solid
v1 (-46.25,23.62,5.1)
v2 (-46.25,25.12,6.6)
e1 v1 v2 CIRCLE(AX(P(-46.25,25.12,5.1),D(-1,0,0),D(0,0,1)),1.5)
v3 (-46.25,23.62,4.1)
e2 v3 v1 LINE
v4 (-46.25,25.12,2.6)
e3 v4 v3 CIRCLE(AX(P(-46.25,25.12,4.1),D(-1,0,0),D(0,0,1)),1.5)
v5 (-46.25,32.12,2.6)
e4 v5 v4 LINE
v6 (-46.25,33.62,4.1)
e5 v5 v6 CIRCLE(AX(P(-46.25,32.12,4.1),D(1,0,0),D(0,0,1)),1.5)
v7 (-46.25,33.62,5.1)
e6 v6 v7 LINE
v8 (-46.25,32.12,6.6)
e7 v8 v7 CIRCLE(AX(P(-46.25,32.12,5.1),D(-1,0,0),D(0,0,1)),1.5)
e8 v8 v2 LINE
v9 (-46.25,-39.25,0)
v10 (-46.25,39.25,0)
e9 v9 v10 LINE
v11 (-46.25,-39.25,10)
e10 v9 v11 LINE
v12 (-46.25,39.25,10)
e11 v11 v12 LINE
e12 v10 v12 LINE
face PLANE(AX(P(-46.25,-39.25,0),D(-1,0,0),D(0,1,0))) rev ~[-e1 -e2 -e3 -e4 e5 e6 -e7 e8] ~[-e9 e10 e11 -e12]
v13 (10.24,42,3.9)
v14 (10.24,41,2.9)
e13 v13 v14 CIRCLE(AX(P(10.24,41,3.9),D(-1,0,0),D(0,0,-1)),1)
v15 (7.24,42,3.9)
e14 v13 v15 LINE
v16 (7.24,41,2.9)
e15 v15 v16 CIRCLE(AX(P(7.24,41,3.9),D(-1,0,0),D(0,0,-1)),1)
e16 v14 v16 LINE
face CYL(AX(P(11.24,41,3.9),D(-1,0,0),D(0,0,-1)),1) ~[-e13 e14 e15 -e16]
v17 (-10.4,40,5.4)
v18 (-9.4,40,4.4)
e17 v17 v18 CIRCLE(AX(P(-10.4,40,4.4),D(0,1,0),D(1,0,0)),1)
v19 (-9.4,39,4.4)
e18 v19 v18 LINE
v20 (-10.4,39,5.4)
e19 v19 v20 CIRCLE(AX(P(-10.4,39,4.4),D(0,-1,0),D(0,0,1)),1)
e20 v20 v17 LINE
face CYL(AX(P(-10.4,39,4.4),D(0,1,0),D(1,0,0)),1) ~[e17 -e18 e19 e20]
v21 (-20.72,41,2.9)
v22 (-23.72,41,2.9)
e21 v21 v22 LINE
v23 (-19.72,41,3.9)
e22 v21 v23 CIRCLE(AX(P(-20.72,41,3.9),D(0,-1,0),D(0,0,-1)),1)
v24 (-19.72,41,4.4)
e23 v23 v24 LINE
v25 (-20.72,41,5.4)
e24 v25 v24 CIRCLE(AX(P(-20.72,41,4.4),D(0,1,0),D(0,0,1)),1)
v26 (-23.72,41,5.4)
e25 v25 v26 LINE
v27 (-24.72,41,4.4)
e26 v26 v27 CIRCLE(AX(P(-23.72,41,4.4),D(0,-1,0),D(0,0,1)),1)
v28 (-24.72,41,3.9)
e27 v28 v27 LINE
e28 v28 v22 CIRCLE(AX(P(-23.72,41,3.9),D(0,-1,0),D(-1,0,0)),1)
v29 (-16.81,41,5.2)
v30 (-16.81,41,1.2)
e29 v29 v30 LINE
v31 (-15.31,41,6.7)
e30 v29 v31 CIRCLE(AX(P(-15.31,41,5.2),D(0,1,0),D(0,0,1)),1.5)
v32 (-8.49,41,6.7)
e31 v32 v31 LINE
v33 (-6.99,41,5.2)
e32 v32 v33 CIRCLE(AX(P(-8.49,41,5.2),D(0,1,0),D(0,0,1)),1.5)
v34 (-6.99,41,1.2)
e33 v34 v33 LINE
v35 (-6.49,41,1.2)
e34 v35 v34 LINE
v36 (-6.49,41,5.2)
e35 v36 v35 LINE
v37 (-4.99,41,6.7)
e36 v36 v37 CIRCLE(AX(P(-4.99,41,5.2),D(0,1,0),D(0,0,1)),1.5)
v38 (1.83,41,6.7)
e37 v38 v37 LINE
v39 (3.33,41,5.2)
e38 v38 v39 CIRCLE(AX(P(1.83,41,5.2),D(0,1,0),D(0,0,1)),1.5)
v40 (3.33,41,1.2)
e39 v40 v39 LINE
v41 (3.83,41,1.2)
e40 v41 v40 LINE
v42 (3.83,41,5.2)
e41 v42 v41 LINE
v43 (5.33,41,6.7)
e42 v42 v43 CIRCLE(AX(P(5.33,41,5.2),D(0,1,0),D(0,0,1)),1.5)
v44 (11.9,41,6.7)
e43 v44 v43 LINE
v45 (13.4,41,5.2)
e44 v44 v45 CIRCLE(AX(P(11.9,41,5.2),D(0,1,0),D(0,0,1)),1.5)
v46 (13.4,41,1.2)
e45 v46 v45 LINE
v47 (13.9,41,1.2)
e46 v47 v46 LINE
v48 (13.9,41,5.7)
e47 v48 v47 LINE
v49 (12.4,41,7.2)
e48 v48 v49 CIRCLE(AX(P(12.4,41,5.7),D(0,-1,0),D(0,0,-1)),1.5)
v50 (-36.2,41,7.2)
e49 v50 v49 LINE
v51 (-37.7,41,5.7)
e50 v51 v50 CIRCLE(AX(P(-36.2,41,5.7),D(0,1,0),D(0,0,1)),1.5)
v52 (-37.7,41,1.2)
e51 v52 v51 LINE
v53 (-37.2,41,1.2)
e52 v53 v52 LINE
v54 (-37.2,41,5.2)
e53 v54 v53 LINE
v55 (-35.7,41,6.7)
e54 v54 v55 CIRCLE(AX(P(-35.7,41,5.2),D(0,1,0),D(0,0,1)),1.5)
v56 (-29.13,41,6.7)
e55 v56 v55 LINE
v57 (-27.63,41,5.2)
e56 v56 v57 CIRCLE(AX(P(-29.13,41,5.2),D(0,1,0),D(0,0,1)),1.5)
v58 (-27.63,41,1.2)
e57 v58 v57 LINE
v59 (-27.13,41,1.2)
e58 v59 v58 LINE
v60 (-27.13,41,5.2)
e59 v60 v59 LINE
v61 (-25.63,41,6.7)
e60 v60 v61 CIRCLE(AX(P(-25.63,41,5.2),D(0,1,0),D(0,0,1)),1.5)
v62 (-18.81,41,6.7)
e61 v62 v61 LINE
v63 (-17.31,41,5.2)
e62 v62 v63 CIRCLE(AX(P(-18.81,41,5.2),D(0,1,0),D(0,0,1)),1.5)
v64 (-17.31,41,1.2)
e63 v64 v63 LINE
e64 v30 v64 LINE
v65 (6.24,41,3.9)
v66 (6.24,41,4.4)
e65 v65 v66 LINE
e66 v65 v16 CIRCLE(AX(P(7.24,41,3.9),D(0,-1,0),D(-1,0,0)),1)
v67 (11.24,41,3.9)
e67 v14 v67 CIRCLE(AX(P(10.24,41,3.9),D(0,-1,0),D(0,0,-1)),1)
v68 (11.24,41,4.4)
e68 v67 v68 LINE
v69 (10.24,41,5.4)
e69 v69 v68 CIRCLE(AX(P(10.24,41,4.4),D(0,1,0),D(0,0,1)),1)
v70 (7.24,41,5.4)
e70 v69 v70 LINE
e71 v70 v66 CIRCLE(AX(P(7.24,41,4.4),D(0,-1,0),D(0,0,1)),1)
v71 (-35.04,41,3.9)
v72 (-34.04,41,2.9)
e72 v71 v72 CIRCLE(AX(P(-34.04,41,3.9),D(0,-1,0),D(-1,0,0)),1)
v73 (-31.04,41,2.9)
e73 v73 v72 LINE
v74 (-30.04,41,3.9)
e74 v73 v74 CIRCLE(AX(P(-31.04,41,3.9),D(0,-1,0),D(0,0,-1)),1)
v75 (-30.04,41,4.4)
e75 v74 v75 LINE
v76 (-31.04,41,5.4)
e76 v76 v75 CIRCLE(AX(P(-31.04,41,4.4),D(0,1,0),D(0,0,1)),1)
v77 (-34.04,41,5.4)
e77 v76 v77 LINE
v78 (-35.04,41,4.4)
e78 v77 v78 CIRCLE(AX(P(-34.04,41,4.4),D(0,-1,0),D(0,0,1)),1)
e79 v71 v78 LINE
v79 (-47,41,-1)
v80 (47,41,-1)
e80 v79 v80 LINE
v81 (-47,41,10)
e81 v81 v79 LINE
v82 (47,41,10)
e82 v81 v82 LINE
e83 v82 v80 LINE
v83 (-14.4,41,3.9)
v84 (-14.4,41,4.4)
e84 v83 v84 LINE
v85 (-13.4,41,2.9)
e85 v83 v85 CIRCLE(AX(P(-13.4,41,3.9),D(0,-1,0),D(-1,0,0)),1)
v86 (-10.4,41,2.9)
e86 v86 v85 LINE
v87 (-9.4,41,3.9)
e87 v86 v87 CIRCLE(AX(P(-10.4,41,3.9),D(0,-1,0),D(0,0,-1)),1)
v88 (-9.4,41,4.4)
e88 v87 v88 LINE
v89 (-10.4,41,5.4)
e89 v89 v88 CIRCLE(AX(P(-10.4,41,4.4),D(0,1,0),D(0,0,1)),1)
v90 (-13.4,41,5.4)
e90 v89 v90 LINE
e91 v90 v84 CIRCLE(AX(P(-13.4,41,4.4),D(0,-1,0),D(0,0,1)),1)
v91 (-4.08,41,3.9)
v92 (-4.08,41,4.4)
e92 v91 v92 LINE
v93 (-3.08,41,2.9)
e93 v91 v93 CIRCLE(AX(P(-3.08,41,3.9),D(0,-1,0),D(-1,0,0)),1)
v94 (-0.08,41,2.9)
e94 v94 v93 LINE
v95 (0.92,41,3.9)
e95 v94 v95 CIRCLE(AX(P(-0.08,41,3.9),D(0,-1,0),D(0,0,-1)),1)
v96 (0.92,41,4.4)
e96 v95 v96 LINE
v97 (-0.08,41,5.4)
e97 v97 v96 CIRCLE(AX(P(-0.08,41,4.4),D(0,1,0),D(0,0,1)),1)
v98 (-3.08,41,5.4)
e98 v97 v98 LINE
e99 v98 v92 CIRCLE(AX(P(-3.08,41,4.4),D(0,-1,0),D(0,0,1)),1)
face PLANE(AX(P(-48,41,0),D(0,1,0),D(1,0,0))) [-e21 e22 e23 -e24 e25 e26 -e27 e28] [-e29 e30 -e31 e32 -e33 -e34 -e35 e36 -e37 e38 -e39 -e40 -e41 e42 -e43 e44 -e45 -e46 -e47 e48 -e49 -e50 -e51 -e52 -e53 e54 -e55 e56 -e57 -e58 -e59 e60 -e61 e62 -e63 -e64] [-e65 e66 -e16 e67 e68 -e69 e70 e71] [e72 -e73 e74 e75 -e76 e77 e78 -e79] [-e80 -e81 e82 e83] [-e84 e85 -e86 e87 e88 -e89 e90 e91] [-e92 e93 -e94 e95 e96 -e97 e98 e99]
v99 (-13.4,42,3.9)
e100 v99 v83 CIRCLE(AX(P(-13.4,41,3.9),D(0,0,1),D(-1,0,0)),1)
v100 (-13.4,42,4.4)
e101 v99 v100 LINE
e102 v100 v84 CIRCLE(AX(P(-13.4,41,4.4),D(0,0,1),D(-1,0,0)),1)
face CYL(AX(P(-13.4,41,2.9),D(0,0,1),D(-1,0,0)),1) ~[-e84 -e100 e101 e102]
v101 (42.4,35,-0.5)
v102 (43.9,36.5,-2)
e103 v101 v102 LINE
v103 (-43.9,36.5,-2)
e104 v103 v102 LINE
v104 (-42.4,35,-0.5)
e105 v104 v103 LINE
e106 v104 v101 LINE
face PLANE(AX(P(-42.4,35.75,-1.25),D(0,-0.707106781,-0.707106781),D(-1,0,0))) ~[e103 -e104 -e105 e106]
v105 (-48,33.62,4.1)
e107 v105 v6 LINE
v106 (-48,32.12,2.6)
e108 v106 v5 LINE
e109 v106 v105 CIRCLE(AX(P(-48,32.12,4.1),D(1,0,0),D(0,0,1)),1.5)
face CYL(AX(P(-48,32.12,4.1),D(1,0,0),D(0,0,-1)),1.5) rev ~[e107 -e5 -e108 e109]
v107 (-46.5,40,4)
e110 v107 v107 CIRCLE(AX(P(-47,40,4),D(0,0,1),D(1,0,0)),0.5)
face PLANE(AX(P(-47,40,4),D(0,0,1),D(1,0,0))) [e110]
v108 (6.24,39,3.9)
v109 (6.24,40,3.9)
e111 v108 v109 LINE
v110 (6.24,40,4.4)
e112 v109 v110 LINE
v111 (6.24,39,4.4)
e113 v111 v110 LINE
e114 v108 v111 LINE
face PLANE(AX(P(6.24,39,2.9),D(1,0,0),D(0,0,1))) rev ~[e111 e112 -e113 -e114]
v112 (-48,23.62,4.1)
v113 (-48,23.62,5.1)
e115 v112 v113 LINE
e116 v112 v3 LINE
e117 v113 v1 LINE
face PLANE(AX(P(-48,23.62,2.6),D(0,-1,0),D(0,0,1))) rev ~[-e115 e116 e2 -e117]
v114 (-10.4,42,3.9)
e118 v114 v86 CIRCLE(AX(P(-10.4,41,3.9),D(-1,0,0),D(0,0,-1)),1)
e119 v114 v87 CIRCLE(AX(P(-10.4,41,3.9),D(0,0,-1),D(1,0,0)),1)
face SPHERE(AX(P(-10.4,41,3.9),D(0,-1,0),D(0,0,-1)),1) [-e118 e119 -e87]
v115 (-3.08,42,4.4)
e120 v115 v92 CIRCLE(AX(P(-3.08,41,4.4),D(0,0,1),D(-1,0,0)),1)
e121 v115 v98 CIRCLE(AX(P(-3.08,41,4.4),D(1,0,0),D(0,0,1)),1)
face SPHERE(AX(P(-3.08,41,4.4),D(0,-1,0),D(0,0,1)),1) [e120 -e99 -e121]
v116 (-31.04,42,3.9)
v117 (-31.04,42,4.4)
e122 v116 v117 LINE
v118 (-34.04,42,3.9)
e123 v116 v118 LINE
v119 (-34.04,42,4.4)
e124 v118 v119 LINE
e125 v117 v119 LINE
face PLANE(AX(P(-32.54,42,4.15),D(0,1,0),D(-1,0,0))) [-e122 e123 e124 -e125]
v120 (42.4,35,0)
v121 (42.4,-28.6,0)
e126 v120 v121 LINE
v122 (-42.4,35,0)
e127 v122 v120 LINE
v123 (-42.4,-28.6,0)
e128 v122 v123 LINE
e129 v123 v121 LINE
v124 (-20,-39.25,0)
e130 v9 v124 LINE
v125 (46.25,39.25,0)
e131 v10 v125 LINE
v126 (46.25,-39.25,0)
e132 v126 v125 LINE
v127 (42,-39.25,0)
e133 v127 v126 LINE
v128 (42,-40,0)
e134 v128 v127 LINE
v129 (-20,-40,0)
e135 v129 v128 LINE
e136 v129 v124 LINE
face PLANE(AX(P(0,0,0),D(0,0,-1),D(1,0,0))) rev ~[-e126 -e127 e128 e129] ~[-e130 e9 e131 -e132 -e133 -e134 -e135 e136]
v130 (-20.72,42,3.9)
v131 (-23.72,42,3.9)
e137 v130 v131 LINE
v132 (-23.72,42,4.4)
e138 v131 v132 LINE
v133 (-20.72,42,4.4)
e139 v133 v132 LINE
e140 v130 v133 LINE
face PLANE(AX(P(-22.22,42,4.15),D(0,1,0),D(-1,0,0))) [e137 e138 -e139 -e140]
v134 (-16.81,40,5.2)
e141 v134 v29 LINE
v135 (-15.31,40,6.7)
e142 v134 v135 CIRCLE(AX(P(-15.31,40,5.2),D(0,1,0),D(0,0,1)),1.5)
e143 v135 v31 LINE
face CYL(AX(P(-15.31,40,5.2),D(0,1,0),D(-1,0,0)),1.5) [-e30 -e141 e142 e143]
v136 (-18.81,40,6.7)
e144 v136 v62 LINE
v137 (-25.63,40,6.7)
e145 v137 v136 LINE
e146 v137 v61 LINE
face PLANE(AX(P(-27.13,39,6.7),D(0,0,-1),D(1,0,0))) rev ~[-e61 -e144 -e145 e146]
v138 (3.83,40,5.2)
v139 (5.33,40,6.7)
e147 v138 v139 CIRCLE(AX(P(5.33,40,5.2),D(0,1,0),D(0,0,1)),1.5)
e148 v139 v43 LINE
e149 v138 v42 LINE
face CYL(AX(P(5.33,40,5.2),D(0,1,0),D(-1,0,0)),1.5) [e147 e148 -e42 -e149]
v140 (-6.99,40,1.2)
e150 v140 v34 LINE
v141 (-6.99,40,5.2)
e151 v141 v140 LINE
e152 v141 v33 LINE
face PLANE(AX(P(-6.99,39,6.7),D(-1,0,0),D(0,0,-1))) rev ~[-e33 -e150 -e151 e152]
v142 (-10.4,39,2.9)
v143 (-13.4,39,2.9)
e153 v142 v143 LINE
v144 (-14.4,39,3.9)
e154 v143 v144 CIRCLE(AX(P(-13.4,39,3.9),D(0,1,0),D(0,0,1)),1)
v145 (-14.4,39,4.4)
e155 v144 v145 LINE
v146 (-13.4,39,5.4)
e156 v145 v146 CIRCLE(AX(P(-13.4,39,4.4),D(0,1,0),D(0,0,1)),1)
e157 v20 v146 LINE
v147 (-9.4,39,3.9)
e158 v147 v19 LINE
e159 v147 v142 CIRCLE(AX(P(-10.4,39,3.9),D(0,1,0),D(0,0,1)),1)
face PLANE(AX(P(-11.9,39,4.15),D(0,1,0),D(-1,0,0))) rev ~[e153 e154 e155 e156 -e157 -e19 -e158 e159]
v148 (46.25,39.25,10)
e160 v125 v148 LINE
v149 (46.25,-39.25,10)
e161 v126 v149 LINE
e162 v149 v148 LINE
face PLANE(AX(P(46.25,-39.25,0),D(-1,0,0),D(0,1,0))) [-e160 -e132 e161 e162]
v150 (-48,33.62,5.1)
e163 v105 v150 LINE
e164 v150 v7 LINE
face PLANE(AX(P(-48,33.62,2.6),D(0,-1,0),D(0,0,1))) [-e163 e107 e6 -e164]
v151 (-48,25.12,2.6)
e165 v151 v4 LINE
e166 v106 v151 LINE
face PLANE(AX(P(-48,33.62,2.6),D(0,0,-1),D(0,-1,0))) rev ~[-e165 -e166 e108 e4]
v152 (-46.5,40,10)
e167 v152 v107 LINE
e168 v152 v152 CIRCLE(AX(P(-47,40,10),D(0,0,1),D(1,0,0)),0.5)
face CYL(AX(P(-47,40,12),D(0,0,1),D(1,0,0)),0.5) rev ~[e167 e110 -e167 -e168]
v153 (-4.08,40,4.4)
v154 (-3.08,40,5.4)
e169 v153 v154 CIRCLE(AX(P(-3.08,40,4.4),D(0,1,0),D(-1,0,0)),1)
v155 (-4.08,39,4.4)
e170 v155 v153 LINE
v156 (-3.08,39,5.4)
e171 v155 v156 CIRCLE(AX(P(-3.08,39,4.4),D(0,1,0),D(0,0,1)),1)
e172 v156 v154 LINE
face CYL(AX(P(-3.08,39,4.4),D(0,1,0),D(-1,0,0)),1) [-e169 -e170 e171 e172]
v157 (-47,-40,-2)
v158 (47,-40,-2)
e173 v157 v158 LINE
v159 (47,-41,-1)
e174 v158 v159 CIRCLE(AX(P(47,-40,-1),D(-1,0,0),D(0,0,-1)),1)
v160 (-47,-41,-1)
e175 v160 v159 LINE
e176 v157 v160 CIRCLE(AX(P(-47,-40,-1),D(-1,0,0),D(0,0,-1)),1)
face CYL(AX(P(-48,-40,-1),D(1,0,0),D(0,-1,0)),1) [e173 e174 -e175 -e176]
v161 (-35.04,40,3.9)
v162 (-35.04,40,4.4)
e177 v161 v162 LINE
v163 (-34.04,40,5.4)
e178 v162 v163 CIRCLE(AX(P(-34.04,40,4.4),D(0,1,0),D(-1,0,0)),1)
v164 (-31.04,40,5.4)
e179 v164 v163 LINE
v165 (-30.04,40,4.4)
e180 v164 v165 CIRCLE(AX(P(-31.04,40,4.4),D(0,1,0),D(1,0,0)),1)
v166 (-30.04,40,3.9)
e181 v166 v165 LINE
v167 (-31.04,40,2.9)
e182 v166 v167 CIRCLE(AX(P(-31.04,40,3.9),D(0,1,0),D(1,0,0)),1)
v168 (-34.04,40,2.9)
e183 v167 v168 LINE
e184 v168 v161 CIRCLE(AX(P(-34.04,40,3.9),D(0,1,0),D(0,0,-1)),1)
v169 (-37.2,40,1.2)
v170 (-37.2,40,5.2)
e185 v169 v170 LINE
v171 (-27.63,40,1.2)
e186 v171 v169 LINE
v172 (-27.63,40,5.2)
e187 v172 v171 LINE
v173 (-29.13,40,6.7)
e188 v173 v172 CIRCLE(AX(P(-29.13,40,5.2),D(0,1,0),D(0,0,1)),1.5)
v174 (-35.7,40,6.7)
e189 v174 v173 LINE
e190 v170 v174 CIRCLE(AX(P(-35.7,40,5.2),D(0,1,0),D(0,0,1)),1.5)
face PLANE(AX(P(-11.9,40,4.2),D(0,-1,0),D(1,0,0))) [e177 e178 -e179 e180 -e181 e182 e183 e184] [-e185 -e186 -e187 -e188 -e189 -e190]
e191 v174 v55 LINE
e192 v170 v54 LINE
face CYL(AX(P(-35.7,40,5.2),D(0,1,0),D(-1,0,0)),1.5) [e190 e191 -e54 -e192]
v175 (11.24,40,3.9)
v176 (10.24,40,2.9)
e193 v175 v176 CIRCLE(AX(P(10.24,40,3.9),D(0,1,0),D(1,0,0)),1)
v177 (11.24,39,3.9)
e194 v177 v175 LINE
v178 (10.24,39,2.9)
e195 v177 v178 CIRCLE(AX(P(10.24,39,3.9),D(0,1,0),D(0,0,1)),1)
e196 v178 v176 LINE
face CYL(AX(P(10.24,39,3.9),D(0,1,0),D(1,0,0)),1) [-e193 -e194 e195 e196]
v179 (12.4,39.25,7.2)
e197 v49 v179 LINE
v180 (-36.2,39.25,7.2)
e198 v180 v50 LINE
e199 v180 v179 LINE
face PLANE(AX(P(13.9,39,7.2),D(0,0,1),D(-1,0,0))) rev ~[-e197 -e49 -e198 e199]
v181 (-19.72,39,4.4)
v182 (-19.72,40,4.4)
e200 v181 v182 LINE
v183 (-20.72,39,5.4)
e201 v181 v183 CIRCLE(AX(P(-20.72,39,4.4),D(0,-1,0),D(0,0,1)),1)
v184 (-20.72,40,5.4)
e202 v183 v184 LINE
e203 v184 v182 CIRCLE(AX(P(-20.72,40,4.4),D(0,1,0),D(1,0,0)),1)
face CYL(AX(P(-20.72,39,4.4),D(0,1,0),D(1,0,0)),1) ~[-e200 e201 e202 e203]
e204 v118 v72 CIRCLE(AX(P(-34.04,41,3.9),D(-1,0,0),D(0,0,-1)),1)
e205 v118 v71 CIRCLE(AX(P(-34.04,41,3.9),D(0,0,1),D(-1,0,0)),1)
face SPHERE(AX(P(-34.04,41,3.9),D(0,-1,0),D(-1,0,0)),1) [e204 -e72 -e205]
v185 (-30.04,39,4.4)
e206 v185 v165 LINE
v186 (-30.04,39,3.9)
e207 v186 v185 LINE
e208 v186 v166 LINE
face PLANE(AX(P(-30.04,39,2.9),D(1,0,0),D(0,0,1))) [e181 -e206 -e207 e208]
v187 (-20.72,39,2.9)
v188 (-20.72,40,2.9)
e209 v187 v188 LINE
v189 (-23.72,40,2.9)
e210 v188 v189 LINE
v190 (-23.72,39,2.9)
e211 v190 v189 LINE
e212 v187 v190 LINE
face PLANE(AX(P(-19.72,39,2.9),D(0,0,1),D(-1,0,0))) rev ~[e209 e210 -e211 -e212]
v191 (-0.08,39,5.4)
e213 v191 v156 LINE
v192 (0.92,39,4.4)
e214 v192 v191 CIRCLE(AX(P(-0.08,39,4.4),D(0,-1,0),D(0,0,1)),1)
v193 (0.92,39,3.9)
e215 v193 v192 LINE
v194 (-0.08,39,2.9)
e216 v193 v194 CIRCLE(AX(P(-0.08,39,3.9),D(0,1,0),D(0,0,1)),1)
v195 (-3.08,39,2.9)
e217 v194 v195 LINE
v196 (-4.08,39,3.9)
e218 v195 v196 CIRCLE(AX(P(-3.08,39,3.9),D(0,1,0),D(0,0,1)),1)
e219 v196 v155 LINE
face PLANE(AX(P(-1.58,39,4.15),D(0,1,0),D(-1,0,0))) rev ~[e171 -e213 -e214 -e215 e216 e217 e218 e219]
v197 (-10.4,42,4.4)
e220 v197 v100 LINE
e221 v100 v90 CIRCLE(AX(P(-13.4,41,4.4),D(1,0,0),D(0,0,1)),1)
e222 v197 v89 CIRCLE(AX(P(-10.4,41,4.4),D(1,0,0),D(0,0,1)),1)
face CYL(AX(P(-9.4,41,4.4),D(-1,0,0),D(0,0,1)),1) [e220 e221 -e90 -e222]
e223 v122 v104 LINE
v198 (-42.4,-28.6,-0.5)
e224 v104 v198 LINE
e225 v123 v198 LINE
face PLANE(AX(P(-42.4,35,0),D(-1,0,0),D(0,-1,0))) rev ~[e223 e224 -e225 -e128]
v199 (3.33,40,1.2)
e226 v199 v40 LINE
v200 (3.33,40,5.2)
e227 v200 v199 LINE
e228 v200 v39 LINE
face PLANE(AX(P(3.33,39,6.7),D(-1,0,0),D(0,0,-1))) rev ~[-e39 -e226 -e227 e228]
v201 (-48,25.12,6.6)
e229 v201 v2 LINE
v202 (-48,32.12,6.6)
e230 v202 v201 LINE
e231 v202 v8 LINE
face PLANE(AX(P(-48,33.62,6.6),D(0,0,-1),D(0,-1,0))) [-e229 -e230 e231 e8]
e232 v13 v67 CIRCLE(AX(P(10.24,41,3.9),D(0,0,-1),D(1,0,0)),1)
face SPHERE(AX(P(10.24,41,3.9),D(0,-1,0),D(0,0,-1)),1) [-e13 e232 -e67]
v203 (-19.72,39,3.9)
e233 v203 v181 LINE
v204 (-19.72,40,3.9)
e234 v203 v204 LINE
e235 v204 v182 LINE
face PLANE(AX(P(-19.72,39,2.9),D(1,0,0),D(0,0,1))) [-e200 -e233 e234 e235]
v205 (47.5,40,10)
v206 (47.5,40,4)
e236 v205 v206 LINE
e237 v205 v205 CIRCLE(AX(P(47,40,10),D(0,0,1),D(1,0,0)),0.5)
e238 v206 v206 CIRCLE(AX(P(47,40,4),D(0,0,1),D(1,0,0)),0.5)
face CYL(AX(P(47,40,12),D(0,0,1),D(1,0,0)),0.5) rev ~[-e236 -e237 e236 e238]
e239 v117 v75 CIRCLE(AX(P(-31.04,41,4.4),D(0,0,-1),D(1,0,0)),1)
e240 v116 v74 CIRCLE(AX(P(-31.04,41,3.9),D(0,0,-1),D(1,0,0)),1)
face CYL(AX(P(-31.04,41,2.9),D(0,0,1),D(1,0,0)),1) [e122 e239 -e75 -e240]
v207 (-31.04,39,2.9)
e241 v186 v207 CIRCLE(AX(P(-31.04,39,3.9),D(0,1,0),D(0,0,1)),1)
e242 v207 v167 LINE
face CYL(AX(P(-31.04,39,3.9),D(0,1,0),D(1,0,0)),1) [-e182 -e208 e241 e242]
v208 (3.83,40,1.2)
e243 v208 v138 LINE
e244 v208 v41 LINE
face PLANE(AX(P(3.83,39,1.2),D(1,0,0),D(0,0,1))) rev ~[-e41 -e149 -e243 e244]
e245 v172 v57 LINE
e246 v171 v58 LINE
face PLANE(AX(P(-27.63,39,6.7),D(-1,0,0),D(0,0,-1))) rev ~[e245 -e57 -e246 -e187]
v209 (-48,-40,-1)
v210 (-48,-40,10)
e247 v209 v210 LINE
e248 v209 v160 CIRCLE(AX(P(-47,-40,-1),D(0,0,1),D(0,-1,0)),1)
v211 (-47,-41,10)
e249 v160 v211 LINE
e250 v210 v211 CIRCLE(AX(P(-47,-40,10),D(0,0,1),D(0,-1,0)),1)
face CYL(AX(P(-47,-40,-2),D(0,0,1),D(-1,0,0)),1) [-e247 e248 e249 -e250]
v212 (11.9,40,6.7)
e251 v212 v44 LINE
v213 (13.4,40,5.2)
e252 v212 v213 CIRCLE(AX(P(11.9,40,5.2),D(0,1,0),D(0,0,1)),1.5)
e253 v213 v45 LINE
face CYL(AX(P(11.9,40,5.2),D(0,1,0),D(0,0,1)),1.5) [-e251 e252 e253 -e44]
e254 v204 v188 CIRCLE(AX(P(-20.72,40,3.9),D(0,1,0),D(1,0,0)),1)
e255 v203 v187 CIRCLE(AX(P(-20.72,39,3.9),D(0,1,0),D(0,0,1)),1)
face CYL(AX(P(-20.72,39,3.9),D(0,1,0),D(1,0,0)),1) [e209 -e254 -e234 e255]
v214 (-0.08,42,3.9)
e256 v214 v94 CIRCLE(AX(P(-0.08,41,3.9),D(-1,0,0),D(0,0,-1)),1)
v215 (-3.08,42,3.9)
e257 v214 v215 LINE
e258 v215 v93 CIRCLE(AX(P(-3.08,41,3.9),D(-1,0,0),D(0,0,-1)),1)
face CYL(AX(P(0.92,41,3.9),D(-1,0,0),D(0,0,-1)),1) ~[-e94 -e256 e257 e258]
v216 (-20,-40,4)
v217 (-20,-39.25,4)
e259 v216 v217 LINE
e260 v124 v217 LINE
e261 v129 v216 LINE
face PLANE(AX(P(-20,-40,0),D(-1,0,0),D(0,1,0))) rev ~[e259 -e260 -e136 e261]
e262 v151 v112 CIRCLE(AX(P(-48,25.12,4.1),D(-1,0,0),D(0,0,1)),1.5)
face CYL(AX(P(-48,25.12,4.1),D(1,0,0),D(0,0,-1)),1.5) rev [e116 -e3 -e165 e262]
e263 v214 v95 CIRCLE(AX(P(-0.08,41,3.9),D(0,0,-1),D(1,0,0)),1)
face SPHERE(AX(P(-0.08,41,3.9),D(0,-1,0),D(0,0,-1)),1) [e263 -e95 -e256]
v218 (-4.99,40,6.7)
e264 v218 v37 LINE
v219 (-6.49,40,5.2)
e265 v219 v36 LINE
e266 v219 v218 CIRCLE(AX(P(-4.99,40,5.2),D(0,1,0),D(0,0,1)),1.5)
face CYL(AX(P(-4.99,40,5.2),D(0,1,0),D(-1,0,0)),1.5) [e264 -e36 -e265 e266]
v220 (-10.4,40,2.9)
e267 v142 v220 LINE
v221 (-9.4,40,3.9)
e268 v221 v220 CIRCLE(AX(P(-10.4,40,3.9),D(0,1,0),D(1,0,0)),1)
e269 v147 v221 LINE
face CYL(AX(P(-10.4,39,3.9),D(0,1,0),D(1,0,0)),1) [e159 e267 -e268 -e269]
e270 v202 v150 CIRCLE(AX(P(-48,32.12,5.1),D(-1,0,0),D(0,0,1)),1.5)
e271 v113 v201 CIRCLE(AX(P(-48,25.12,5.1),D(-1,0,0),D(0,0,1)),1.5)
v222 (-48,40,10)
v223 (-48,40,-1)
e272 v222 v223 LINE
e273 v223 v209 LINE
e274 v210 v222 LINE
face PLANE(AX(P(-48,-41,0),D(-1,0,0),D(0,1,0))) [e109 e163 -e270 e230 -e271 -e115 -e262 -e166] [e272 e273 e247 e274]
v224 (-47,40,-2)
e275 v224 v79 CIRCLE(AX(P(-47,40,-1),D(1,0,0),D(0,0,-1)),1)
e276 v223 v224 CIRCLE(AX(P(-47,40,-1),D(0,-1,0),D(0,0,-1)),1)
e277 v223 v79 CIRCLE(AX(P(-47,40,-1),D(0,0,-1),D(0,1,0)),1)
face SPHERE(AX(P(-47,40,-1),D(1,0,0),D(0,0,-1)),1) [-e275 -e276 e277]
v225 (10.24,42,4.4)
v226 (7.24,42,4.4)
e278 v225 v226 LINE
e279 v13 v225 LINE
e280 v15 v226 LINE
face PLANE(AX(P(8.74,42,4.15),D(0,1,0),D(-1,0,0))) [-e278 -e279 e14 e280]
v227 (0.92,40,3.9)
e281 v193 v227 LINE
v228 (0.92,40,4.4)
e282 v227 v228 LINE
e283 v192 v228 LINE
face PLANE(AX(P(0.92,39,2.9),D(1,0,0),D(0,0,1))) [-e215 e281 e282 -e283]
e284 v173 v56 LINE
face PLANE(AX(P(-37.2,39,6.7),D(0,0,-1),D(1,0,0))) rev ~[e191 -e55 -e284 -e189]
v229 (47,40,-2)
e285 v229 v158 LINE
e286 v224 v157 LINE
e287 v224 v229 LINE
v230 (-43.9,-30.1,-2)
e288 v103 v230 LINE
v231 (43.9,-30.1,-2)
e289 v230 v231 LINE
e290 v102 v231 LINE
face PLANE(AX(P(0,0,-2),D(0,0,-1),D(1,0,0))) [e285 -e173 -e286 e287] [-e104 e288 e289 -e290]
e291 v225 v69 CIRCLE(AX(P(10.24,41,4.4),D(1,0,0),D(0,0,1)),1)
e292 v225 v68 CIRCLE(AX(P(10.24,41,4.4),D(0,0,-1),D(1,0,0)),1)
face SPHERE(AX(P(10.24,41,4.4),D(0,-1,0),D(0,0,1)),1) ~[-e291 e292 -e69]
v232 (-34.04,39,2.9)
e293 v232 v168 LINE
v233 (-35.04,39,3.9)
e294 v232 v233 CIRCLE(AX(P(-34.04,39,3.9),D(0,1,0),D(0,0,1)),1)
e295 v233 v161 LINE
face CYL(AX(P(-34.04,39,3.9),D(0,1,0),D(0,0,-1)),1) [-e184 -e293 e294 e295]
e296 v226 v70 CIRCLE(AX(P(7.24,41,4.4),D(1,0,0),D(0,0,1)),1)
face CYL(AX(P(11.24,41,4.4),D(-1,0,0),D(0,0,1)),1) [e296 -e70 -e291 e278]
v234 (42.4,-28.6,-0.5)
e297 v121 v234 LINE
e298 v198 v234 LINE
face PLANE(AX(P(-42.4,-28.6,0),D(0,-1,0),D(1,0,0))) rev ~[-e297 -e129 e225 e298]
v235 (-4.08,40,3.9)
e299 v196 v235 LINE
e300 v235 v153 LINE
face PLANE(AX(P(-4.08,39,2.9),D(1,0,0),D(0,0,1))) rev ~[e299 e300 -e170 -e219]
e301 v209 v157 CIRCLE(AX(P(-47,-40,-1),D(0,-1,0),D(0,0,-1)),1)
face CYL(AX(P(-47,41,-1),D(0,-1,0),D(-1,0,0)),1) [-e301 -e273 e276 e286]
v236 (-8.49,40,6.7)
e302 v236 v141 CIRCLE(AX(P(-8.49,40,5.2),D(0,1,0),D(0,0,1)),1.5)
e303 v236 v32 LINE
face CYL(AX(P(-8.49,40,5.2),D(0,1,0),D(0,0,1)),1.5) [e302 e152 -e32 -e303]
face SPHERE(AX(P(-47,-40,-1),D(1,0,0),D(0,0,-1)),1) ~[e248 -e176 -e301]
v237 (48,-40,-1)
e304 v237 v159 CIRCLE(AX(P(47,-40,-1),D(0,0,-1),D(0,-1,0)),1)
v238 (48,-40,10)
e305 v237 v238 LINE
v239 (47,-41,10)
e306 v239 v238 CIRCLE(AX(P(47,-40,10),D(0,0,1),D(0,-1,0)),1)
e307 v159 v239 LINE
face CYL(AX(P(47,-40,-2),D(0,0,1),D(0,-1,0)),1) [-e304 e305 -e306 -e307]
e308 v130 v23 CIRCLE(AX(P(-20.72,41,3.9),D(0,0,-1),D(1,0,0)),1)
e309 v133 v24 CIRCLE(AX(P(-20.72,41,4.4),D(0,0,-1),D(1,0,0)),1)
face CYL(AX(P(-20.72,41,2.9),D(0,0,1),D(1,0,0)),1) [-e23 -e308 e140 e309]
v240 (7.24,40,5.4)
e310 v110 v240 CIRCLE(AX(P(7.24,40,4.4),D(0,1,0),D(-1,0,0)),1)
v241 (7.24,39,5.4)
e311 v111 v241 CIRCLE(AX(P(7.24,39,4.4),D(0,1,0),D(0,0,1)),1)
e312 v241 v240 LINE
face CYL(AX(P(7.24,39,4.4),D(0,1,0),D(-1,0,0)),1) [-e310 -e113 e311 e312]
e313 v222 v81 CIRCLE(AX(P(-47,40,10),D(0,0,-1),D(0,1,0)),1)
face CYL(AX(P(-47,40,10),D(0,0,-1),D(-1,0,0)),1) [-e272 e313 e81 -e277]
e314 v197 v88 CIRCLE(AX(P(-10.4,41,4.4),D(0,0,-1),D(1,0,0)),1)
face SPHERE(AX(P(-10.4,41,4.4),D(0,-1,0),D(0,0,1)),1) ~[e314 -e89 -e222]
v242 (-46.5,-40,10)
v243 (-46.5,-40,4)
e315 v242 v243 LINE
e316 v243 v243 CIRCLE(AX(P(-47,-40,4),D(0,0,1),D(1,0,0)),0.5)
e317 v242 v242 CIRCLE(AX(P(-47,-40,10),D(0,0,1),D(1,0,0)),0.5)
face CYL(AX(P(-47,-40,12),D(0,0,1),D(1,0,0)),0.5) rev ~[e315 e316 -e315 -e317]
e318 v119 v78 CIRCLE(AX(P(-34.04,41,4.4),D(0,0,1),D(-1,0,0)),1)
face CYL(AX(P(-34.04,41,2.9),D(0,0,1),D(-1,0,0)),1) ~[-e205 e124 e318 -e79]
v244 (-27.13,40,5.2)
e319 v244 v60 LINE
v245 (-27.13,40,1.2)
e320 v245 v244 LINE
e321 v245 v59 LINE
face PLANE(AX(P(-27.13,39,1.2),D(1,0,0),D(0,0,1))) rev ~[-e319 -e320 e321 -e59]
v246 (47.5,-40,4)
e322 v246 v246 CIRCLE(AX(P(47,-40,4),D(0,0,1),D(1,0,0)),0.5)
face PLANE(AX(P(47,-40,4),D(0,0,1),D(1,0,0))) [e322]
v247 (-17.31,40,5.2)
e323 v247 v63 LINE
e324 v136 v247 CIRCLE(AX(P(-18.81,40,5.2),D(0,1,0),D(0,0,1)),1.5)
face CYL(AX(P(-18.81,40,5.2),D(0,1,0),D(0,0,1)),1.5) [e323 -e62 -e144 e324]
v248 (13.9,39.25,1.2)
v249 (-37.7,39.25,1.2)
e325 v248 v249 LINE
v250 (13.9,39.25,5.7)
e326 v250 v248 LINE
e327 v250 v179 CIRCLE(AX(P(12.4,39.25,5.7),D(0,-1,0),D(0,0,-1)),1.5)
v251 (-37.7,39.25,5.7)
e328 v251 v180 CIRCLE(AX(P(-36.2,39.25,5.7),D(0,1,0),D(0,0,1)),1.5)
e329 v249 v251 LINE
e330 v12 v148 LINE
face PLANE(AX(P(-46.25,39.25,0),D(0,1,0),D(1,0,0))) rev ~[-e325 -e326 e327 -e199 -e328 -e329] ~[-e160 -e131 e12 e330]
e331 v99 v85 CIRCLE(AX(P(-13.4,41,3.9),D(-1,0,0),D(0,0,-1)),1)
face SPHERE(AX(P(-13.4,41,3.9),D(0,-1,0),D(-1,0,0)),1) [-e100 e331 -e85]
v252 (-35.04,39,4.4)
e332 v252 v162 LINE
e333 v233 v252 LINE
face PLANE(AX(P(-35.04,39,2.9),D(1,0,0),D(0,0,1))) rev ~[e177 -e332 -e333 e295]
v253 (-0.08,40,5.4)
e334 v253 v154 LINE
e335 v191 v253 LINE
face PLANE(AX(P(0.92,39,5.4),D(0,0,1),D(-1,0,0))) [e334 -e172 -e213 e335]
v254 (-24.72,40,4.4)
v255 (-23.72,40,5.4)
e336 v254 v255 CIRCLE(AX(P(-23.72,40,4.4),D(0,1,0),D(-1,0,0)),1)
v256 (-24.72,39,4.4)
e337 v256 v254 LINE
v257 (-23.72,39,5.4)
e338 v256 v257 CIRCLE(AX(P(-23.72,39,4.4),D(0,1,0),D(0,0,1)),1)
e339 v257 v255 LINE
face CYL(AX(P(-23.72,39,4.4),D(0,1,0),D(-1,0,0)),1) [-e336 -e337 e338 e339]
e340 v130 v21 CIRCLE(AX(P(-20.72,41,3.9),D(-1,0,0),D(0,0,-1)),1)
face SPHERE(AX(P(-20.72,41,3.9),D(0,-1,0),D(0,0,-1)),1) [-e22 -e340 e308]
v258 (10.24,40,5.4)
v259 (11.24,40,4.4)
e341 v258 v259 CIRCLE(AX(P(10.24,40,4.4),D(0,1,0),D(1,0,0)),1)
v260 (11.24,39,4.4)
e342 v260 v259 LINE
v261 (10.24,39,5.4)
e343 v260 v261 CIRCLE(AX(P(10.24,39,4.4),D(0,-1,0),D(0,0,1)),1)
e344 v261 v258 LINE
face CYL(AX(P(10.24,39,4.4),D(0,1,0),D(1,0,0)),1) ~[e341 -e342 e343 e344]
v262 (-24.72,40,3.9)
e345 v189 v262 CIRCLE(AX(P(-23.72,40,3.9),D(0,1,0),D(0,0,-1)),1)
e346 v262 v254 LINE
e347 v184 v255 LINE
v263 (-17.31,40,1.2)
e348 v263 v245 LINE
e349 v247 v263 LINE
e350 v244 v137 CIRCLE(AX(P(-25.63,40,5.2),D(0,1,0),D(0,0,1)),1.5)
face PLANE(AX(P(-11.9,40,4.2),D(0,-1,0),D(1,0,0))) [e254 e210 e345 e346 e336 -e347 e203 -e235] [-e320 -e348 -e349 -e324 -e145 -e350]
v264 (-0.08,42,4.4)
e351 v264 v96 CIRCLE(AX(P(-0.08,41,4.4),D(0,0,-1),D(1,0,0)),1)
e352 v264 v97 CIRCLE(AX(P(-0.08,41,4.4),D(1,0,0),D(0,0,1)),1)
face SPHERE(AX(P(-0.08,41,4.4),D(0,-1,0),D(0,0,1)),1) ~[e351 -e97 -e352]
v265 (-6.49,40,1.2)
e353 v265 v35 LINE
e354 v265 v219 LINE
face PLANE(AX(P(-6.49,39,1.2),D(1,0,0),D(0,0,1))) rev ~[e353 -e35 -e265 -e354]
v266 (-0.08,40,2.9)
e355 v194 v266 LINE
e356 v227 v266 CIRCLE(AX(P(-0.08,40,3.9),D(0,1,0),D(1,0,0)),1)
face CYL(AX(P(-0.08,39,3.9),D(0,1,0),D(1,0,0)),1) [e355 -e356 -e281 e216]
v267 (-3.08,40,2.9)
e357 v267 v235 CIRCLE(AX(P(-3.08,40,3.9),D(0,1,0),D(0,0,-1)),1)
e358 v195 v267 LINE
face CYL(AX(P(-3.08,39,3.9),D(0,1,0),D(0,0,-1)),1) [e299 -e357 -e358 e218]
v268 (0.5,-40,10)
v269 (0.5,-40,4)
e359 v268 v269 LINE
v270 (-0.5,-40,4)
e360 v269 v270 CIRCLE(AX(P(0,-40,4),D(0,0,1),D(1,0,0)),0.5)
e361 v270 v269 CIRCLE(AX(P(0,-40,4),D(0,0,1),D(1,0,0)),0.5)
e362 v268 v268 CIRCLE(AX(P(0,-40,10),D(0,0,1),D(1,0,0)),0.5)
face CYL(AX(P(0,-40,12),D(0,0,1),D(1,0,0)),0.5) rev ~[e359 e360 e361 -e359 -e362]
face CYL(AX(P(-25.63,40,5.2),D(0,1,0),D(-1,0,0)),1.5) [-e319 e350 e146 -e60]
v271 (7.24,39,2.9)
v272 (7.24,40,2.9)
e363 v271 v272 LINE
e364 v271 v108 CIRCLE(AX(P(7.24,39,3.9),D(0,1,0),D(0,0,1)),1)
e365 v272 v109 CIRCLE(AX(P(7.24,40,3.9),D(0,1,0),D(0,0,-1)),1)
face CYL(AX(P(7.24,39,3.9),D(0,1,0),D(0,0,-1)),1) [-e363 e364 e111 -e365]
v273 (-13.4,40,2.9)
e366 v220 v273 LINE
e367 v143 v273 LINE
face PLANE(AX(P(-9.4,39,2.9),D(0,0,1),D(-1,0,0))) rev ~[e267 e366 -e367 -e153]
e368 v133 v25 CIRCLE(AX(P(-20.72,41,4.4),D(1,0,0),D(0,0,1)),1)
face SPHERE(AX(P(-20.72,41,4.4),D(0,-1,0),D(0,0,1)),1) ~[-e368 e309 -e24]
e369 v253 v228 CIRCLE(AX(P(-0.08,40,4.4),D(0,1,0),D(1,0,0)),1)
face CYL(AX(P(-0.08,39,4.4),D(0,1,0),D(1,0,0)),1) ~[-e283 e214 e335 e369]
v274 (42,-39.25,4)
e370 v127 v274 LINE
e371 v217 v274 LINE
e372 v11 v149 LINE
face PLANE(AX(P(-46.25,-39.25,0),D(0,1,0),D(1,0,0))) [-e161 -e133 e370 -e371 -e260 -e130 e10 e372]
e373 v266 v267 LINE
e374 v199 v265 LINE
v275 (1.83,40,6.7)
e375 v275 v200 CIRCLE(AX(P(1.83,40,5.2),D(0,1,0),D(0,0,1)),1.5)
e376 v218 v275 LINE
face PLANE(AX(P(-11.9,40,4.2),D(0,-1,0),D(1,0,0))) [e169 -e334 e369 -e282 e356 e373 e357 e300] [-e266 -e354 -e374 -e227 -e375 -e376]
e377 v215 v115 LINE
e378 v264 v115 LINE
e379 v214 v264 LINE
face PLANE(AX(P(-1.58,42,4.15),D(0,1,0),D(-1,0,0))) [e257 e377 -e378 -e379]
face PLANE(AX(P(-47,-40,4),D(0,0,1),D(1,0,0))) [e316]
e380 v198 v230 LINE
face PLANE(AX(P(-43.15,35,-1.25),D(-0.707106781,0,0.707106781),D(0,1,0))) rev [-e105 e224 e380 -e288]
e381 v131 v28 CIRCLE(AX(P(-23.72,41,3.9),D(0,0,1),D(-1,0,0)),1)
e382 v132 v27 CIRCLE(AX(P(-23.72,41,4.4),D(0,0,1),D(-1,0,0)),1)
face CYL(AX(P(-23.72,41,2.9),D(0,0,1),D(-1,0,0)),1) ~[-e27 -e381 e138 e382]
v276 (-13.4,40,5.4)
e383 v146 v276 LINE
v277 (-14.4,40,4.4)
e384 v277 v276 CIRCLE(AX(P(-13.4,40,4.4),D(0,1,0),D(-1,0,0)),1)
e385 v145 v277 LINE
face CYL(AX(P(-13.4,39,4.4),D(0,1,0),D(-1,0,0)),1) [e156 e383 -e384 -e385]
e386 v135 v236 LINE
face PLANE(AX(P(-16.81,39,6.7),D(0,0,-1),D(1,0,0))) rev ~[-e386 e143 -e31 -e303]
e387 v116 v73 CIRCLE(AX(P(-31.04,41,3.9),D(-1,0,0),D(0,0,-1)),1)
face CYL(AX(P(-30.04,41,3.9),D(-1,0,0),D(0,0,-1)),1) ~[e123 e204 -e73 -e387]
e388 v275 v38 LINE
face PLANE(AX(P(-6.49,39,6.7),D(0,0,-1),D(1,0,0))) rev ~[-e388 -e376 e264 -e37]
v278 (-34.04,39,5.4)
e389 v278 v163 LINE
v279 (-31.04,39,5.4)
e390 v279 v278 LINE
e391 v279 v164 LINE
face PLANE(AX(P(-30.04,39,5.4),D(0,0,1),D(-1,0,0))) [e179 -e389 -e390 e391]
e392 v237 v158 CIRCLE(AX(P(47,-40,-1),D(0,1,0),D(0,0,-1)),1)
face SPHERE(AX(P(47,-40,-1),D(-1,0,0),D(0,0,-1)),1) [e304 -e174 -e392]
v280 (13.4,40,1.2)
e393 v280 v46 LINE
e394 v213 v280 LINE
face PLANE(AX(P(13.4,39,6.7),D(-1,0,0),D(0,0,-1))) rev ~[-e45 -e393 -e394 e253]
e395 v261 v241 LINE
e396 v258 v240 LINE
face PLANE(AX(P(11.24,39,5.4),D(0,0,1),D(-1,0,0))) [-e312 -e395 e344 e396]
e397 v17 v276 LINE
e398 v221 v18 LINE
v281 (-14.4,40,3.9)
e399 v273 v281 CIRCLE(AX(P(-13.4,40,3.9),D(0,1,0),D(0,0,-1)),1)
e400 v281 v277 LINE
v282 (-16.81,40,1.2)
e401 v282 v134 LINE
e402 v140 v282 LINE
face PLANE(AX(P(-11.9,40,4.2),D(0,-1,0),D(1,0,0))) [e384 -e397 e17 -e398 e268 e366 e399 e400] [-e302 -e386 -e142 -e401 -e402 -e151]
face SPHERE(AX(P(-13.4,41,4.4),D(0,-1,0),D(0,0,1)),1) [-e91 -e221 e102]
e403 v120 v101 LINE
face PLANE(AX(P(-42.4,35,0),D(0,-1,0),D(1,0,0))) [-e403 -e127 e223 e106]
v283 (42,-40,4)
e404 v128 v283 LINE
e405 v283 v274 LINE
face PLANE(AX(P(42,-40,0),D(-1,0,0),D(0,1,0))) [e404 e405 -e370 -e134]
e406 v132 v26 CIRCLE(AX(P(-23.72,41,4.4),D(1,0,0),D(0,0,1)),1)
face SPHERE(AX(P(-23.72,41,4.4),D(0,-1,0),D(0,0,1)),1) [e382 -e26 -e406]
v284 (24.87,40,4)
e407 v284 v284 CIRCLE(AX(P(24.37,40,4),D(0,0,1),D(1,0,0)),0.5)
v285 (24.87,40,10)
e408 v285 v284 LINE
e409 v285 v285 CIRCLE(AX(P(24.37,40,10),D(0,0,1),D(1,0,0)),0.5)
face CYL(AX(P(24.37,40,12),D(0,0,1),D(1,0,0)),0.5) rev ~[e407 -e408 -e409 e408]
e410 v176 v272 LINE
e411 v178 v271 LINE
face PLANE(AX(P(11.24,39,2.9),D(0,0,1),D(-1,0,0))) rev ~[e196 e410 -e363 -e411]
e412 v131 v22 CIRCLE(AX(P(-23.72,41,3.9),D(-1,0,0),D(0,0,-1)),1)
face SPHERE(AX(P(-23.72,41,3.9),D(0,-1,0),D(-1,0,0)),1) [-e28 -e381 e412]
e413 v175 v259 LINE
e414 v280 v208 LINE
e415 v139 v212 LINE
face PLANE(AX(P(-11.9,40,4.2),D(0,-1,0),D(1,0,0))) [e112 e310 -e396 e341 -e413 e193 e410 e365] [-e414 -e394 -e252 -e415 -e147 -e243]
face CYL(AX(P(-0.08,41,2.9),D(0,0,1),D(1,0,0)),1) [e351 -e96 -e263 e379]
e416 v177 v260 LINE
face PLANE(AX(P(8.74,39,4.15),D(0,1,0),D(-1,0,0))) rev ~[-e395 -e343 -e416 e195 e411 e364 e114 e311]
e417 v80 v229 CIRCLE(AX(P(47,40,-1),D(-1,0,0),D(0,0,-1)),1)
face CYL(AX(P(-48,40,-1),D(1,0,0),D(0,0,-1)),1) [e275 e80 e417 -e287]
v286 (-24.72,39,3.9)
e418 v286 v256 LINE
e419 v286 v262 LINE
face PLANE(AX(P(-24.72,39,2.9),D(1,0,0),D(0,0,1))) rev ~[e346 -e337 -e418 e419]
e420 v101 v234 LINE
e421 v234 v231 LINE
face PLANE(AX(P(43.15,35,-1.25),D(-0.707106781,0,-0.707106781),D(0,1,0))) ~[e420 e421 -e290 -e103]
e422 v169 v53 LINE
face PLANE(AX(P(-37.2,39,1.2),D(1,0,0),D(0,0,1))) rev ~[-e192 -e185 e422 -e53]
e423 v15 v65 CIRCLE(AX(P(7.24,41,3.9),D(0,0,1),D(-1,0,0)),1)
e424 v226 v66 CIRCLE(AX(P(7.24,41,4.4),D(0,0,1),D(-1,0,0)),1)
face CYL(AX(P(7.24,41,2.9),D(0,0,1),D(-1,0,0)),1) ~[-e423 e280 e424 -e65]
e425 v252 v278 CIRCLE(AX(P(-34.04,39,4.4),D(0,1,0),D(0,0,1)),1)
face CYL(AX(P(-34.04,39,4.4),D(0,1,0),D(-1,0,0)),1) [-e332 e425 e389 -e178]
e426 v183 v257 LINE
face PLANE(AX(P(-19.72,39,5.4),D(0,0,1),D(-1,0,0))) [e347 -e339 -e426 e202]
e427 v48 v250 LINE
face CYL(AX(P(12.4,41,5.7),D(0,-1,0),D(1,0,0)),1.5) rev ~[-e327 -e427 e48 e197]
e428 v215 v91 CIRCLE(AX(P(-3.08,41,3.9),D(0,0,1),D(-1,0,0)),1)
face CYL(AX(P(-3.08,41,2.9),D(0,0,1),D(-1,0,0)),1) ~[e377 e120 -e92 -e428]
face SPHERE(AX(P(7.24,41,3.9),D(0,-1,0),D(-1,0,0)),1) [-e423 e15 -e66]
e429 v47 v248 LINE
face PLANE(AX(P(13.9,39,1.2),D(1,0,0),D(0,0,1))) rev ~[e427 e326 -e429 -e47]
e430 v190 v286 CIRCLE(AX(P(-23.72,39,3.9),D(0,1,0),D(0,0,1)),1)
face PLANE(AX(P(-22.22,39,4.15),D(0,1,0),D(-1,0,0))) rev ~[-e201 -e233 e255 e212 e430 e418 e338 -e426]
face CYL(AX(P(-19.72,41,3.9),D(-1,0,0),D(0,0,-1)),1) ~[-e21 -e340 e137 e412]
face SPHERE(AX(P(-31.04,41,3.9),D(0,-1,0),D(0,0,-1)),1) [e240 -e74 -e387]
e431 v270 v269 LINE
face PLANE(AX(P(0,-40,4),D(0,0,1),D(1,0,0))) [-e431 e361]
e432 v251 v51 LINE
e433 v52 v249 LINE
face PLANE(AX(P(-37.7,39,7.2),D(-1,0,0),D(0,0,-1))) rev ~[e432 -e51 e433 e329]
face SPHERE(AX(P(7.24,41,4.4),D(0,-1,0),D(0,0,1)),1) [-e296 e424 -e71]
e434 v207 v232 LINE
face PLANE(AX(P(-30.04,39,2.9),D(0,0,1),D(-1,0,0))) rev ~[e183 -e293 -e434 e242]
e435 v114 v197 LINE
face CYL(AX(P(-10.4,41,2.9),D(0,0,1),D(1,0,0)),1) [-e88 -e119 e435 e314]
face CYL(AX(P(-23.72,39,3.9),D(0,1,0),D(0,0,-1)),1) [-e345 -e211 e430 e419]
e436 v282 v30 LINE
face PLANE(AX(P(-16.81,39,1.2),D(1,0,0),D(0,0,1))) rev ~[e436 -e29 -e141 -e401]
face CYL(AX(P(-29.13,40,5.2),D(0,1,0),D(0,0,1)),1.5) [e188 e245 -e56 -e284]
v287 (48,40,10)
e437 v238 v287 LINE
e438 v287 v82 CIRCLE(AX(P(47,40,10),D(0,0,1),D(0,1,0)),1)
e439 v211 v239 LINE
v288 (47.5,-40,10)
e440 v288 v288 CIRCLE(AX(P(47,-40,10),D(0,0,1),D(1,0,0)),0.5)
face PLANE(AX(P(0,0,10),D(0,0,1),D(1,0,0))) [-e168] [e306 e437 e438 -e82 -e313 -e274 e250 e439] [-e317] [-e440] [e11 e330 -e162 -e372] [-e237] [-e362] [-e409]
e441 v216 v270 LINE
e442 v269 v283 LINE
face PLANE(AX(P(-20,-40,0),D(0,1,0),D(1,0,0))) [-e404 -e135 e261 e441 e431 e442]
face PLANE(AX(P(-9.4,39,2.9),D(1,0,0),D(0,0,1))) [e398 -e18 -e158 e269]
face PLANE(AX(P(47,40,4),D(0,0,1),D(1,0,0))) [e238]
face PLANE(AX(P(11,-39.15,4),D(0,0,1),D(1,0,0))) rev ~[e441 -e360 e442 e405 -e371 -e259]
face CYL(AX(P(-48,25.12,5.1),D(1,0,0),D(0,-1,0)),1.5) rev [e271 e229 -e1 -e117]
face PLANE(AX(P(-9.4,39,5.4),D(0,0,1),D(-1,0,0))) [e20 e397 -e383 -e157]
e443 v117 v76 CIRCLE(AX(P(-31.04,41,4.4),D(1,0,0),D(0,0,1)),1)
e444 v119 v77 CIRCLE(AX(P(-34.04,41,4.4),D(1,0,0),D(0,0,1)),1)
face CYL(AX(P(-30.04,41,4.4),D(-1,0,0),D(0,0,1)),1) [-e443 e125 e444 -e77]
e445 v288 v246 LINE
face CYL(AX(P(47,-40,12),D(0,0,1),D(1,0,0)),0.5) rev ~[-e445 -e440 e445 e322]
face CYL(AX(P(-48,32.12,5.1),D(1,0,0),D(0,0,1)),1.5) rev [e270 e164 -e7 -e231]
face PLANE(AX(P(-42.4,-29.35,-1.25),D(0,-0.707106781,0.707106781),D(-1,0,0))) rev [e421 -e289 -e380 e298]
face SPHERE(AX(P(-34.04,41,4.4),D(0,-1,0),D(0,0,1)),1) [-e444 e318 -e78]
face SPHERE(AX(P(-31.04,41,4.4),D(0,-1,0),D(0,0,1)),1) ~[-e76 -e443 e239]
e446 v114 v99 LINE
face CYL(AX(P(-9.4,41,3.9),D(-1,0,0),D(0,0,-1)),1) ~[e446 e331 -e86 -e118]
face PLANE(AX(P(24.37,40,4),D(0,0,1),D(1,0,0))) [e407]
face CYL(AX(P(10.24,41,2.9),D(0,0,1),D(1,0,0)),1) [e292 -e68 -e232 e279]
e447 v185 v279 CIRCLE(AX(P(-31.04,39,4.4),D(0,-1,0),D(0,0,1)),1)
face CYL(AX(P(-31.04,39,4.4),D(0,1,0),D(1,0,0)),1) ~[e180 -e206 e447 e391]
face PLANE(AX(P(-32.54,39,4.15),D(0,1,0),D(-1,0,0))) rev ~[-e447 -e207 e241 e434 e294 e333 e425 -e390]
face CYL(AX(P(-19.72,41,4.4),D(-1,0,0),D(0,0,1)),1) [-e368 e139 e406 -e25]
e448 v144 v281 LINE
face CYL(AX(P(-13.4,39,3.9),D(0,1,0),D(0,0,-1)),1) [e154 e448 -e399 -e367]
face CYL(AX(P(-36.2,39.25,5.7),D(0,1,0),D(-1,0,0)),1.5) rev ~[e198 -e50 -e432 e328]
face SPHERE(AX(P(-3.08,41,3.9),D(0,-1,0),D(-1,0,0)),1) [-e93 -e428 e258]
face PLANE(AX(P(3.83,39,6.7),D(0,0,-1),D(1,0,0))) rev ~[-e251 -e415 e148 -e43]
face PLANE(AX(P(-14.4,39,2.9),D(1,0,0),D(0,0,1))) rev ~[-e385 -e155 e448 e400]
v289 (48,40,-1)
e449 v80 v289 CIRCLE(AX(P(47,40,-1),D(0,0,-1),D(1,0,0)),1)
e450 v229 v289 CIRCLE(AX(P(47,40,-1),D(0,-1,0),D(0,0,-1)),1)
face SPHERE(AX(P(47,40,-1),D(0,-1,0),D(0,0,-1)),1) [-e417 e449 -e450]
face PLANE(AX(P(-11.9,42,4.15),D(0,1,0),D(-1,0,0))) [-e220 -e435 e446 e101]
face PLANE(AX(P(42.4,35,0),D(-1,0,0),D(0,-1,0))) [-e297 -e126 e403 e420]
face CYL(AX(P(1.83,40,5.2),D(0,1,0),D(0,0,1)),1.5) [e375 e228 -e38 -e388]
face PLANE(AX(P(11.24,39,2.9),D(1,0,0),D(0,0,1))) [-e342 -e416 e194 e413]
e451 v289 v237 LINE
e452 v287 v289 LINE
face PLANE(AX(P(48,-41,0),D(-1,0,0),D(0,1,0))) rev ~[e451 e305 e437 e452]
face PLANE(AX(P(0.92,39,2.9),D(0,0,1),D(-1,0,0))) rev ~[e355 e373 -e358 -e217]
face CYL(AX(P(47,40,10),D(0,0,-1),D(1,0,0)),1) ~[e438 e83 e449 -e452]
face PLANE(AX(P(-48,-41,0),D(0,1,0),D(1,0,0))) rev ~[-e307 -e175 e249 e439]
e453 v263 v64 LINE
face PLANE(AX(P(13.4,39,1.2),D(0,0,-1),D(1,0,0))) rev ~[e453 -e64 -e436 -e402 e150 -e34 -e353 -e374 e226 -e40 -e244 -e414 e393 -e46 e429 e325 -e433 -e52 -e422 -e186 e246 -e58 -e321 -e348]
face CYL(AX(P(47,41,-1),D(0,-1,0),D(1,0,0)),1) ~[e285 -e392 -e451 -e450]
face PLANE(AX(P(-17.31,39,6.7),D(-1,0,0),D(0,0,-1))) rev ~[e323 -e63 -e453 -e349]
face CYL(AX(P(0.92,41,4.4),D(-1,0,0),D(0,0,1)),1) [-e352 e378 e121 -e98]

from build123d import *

# Parameters (mm, degrees)
SKETCH009_R      = 0.5
EXTRUDE011_DEPTH = 8
SKETCH010_R      = 0.95
EXTRUDE010_DEPTH = 0.8
SKETCH006_W      = 5
SKETCH006_H      = 2.5
EXTRUDE007_DEPTH = 3
FILLET003_R      = 1
EXTRUDE005_DEPTH = 4
EXTRUDE004_DEPTH = 1
SKETCH003_W      = 62
SKETCH003_H      = 1.7
EXTRUDE003_DEPTH = 4
SKETCH002_W      = 10
SKETCH002_H      = 4
EXTRUDE002_DEPTH = 10
SKETCH_W         = 96
SKETCH_H         = 82
SKETCH_W_2       = 92.5
SKETCH_H_2       = 78.5
EXTRUDE001_DEPTH = 10
FILLET_R         = 1.5
SKETCH001_W      = 96
SKETCH001_H      = 82
SKETCH001_W_2    = 84.8
SKETCH001_H_2    = 63.6
EXTRUDE_DEPTH    = 2
CHAMFER_SIZE     = 1.5
FILLET001_R      = 1
FILLET002_R      = 1.5


with BuildPart() as extrude011:
    # Sketch009 (on Face5 of Fusion002) → Extrude011 (new body)
    with BuildSketch(Plane.XY.offset(12)):
        with Locations((24.37, 40)):
            Circle(SKETCH009_R)
        with Locations((0, -40)):
            Circle(SKETCH009_R)
        with Locations((47, -40)):
            Circle(SKETCH009_R)
        with Locations((-47, -40)):
            Circle(SKETCH009_R)
        with Locations((-47, 40)):
            Circle(SKETCH009_R)
        with Locations((47, 40)):
            Circle(SKETCH009_R)
    extrude(amount=-EXTRUDE011_DEPTH)


with BuildPart() as fusion003:
    # Sketch010 (on Face5 of Fusion002) → Extrude010 (new body)
    with BuildSketch(Plane.XY.offset(12)):
        with Locations((24.37, 40)):
            Circle(SKETCH010_R)
        with Locations((0, -40)):
            Circle(SKETCH010_R)
        with Locations((47, -40)):
            Circle(SKETCH010_R)
        with Locations((-47, -40)):
            Circle(SKETCH010_R)
        with Locations((-47, 40)):
            Circle(SKETCH010_R)
        with Locations((47, 40)):
            Circle(SKETCH010_R)
    extrude(amount=-EXTRUDE010_DEPTH)

    # Fusion003: union Extrude011
    add(extrude011.part)


with BuildPart() as fillet003:
    # Sketch006 (on Face2 of Part__Feature059) → Extrude007 (new body)
    with BuildSketch(Plane(origin=(0, 39, 0), x_dir=(-1, 0, 0), z_dir=(0, 1, 0))):
        with Locations((-8.74, 4.15)):
            Rectangle(SKETCH006_W, SKETCH006_H)
        with Locations((11.9, 4.15)):
            Rectangle(SKETCH006_W, SKETCH006_H)
        with Locations((22.22, 4.15)):
            Rectangle(SKETCH006_W, SKETCH006_H)
        with Locations((32.54, 4.15)):
            Rectangle(SKETCH006_W, SKETCH006_H)
        with Locations((1.58, 4.15)):
            Rectangle(SKETCH006_W, SKETCH006_H)
    extrude(amount=EXTRUDE007_DEPTH)

    # Fillet003
    fillet003_edges = [fillet003.edges().sort_by_distance(p)[0] for p in [
        (-30.04, 40.5, 5.4),
        (-35.04, 40.5, 5.4),
        (-32.54, 42, 5.4),
        (-35.04, 40.5, 2.9),
        (-35.04, 42, 4.15),
        (-30.04, 40.5, 2.9),
        (-32.54, 42, 2.9),
        (-30.04, 42, 4.15),
        (-19.72, 40.5, 5.4),
        (-24.72, 40.5, 5.4),
        (-22.22, 42, 5.4),
        (-24.72, 40.5, 2.9),
        (-24.72, 42, 4.15),
        (-19.72, 40.5, 2.9),
        (-22.22, 42, 2.9),
        (-19.72, 42, 4.15),
        (-9.4, 40.5, 5.4),
        (-14.4, 40.5, 5.4),
        (-11.9, 42, 5.4),
        (-14.4, 40.5, 2.9),
        (-14.4, 42, 4.15),
        (-9.4, 40.5, 2.9),
        (-11.9, 42, 2.9),
        (-9.4, 42, 4.15),
        (11.24, 40.5, 5.4),
        (6.24, 40.5, 5.4),
        (8.74, 42, 5.4),
        (6.24, 40.5, 2.9),
        (6.24, 42, 4.15),
        (11.24, 40.5, 2.9),
        (8.74, 42, 2.9),
        (11.24, 42, 4.15),
        (0.92, 40.5, 5.4),
        (-4.08, 40.5, 5.4),
        (-1.58, 42, 5.4),
        (-4.08, 40.5, 2.9),
        (-4.08, 42, 4.15),
        (0.92, 40.5, 2.9),
        (-1.58, 42, 2.9),
        (0.92, 42, 4.15),
    ]]
    fillet(fillet003_edges, radius=FILLET003_R)


with BuildPart() as extrude005:
    # Sketch005 (on Face2 of Part__Feature059) → Extrude005 (new body)
    with BuildSketch(Plane(origin=(0, 39, 0), x_dir=(-1, 0, 0), z_dir=(0, 1, 0))):
        Polygon((-13.9, 7.2), (37.7, 7.2), (37.7, 1.2), (37.2, 1.2), (37.2, 6.7), (27.63, 6.7), (27.63, 1.2), (27.13, 1.2), (27.13, 6.7), (17.31, 6.7), (17.31, 1.2), (16.81, 1.2), (16.81, 6.7), (6.99, 6.7), (6.99, 1.2), (6.49, 1.2), (6.49, 6.7), (-3.33, 6.7), (-3.33, 1.2), (-3.83, 1.2), (-3.83, 6.7), (-13.4, 6.7), (-13.4, 1.2), (-13.9, 1.2), align=None)
    extrude(amount=EXTRUDE005_DEPTH)


with BuildPart() as extrude004:
    # Sketch004 (on Face2 of Part__Feature059) → Extrude004 (new body)
    with BuildSketch(Plane(origin=(0, 39, 0), x_dir=(-1, 0, 0), z_dir=(0, 1, 0))):
        Polygon((-13.9, 7.2), (37.7, 7.2), (37.7, 1.2), (27.38, 1.2), (17.06, 1.2), (6.74, 1.2), (-3.58, 1.2), (-13.9, 1.2), align=None)
    extrude(amount=EXTRUDE004_DEPTH)


with BuildPart() as extrude003:
    # Sketch003 → Extrude003 (new body)
    with BuildSketch(Plane.XY):
        with Locations((11, -39.15)):
            Rectangle(SKETCH003_W, SKETCH003_H)
    extrude(amount=EXTRUDE003_DEPTH)


with BuildPart() as usb:
    # Sketch002 (on Face4 of Extrude001) → Extrude002 (new body)
    with BuildSketch(Plane(origin=(-48, 0, 0), x_dir=(0, -1, 0), z_dir=(-1, 0, 0))):
        with Locations((-28.62, 4.6)):
            Rectangle(SKETCH002_W, SKETCH002_H)
    extrude(amount=-EXTRUDE002_DEPTH)


with BuildPart() as fillet_body:
    # Sketch → Extrude001 (new body)
    with BuildSketch(Plane.XY):
        Rectangle(SKETCH_W, SKETCH_H)
        Rectangle(SKETCH_W_2, SKETCH_H_2, mode=Mode.SUBTRACT)
    extrude(amount=EXTRUDE001_DEPTH)

    # Cut: cut usb
    add(usb.part, mode=Mode.SUBTRACT)

    # Fillet
    fillet_edges = [fillet_body.edges().sort_by_distance(p)[0] for p in [
        (-47.125, 33.62, 6.6),
        (-47.125, 33.62, 2.6),
        (-47.125, 23.62, 2.6),
        (-47.125, 23.62, 6.6),
    ]]
    fillet(fillet_edges, radius=FILLET_R)


with BuildPart() as font001:
    # Sketch001 (on Face4 of Part__Feature059) → Extrude (new body)
    with BuildSketch(Plane(origin=(0, 0, 0), x_dir=(1, 0, 0), z_dir=(0, 0, -1))):
        Rectangle(SKETCH001_W, SKETCH001_H)
        with Locations((0, -3.2)):
            Rectangle(SKETCH001_W_2, SKETCH001_H_2, mode=Mode.SUBTRACT)
    extrude(amount=EXTRUDE_DEPTH)

    # Chamfer
    chamfer_edges = [font001.edges().sort_by_distance(p)[0] for p in [
        (0, -28.6, -2),
        (42.4, 3.2, -2),
        (0, 35, -2),
        (-42.4, 3.2, -2),
    ]]
    chamfer(chamfer_edges, length=CHAMFER_SIZE)

    # Fusion: union Fillet body
    add(fillet_body.part)

    # Fillet001
    fillet001_edges = [font001.edges().sort_by_distance(p)[0] for p in [
        (0, -41, -2),
        (48, 0, -2),
        (0, 41, -2),
        (-48, 0, -2),
        (-48, -41, -1),
        (48, -41, -1),
        (48, 41, -1),
        (-48, 41, -1),
    ]]
    fillet(fillet001_edges, radius=FILLET001_R)

    # Cut001: cut Extrude003
    add(extrude003.part, mode=Mode.SUBTRACT)

    # Cut002: cut Extrude004
    add(extrude004.part, mode=Mode.SUBTRACT)

    # Cut003: cut Extrude005
    add(extrude005.part, mode=Mode.SUBTRACT)

    # Fillet002
    fillet002_edges = [font001.edges().sort_by_distance(p)[0] for p in [
        (13.4, 40.5, 6.7),
        (3.83, 40.5, 6.7),
        (3.33, 40.5, 6.7),
        (-6.49, 40.5, 6.7),
        (-6.99, 40.5, 6.7),
        (-16.81, 40.5, 6.7),
        (-17.31, 40.5, 6.7),
        (-27.13, 40.5, 6.7),
        (-27.63, 40.5, 6.7),
        (-37.2, 40.5, 6.7),
        (-37.7, 40.5, 7.2),
        (13.9, 40.5, 7.2),
    ]]
    fillet(fillet002_edges, radius=FILLET002_R)

    # Fusion001: union Fillet003
    add(fillet003.part)

    # Cut005: cut Fusion003
    add(fusion003.part, mode=Mode.SUBTRACT)


solid = font001.part
